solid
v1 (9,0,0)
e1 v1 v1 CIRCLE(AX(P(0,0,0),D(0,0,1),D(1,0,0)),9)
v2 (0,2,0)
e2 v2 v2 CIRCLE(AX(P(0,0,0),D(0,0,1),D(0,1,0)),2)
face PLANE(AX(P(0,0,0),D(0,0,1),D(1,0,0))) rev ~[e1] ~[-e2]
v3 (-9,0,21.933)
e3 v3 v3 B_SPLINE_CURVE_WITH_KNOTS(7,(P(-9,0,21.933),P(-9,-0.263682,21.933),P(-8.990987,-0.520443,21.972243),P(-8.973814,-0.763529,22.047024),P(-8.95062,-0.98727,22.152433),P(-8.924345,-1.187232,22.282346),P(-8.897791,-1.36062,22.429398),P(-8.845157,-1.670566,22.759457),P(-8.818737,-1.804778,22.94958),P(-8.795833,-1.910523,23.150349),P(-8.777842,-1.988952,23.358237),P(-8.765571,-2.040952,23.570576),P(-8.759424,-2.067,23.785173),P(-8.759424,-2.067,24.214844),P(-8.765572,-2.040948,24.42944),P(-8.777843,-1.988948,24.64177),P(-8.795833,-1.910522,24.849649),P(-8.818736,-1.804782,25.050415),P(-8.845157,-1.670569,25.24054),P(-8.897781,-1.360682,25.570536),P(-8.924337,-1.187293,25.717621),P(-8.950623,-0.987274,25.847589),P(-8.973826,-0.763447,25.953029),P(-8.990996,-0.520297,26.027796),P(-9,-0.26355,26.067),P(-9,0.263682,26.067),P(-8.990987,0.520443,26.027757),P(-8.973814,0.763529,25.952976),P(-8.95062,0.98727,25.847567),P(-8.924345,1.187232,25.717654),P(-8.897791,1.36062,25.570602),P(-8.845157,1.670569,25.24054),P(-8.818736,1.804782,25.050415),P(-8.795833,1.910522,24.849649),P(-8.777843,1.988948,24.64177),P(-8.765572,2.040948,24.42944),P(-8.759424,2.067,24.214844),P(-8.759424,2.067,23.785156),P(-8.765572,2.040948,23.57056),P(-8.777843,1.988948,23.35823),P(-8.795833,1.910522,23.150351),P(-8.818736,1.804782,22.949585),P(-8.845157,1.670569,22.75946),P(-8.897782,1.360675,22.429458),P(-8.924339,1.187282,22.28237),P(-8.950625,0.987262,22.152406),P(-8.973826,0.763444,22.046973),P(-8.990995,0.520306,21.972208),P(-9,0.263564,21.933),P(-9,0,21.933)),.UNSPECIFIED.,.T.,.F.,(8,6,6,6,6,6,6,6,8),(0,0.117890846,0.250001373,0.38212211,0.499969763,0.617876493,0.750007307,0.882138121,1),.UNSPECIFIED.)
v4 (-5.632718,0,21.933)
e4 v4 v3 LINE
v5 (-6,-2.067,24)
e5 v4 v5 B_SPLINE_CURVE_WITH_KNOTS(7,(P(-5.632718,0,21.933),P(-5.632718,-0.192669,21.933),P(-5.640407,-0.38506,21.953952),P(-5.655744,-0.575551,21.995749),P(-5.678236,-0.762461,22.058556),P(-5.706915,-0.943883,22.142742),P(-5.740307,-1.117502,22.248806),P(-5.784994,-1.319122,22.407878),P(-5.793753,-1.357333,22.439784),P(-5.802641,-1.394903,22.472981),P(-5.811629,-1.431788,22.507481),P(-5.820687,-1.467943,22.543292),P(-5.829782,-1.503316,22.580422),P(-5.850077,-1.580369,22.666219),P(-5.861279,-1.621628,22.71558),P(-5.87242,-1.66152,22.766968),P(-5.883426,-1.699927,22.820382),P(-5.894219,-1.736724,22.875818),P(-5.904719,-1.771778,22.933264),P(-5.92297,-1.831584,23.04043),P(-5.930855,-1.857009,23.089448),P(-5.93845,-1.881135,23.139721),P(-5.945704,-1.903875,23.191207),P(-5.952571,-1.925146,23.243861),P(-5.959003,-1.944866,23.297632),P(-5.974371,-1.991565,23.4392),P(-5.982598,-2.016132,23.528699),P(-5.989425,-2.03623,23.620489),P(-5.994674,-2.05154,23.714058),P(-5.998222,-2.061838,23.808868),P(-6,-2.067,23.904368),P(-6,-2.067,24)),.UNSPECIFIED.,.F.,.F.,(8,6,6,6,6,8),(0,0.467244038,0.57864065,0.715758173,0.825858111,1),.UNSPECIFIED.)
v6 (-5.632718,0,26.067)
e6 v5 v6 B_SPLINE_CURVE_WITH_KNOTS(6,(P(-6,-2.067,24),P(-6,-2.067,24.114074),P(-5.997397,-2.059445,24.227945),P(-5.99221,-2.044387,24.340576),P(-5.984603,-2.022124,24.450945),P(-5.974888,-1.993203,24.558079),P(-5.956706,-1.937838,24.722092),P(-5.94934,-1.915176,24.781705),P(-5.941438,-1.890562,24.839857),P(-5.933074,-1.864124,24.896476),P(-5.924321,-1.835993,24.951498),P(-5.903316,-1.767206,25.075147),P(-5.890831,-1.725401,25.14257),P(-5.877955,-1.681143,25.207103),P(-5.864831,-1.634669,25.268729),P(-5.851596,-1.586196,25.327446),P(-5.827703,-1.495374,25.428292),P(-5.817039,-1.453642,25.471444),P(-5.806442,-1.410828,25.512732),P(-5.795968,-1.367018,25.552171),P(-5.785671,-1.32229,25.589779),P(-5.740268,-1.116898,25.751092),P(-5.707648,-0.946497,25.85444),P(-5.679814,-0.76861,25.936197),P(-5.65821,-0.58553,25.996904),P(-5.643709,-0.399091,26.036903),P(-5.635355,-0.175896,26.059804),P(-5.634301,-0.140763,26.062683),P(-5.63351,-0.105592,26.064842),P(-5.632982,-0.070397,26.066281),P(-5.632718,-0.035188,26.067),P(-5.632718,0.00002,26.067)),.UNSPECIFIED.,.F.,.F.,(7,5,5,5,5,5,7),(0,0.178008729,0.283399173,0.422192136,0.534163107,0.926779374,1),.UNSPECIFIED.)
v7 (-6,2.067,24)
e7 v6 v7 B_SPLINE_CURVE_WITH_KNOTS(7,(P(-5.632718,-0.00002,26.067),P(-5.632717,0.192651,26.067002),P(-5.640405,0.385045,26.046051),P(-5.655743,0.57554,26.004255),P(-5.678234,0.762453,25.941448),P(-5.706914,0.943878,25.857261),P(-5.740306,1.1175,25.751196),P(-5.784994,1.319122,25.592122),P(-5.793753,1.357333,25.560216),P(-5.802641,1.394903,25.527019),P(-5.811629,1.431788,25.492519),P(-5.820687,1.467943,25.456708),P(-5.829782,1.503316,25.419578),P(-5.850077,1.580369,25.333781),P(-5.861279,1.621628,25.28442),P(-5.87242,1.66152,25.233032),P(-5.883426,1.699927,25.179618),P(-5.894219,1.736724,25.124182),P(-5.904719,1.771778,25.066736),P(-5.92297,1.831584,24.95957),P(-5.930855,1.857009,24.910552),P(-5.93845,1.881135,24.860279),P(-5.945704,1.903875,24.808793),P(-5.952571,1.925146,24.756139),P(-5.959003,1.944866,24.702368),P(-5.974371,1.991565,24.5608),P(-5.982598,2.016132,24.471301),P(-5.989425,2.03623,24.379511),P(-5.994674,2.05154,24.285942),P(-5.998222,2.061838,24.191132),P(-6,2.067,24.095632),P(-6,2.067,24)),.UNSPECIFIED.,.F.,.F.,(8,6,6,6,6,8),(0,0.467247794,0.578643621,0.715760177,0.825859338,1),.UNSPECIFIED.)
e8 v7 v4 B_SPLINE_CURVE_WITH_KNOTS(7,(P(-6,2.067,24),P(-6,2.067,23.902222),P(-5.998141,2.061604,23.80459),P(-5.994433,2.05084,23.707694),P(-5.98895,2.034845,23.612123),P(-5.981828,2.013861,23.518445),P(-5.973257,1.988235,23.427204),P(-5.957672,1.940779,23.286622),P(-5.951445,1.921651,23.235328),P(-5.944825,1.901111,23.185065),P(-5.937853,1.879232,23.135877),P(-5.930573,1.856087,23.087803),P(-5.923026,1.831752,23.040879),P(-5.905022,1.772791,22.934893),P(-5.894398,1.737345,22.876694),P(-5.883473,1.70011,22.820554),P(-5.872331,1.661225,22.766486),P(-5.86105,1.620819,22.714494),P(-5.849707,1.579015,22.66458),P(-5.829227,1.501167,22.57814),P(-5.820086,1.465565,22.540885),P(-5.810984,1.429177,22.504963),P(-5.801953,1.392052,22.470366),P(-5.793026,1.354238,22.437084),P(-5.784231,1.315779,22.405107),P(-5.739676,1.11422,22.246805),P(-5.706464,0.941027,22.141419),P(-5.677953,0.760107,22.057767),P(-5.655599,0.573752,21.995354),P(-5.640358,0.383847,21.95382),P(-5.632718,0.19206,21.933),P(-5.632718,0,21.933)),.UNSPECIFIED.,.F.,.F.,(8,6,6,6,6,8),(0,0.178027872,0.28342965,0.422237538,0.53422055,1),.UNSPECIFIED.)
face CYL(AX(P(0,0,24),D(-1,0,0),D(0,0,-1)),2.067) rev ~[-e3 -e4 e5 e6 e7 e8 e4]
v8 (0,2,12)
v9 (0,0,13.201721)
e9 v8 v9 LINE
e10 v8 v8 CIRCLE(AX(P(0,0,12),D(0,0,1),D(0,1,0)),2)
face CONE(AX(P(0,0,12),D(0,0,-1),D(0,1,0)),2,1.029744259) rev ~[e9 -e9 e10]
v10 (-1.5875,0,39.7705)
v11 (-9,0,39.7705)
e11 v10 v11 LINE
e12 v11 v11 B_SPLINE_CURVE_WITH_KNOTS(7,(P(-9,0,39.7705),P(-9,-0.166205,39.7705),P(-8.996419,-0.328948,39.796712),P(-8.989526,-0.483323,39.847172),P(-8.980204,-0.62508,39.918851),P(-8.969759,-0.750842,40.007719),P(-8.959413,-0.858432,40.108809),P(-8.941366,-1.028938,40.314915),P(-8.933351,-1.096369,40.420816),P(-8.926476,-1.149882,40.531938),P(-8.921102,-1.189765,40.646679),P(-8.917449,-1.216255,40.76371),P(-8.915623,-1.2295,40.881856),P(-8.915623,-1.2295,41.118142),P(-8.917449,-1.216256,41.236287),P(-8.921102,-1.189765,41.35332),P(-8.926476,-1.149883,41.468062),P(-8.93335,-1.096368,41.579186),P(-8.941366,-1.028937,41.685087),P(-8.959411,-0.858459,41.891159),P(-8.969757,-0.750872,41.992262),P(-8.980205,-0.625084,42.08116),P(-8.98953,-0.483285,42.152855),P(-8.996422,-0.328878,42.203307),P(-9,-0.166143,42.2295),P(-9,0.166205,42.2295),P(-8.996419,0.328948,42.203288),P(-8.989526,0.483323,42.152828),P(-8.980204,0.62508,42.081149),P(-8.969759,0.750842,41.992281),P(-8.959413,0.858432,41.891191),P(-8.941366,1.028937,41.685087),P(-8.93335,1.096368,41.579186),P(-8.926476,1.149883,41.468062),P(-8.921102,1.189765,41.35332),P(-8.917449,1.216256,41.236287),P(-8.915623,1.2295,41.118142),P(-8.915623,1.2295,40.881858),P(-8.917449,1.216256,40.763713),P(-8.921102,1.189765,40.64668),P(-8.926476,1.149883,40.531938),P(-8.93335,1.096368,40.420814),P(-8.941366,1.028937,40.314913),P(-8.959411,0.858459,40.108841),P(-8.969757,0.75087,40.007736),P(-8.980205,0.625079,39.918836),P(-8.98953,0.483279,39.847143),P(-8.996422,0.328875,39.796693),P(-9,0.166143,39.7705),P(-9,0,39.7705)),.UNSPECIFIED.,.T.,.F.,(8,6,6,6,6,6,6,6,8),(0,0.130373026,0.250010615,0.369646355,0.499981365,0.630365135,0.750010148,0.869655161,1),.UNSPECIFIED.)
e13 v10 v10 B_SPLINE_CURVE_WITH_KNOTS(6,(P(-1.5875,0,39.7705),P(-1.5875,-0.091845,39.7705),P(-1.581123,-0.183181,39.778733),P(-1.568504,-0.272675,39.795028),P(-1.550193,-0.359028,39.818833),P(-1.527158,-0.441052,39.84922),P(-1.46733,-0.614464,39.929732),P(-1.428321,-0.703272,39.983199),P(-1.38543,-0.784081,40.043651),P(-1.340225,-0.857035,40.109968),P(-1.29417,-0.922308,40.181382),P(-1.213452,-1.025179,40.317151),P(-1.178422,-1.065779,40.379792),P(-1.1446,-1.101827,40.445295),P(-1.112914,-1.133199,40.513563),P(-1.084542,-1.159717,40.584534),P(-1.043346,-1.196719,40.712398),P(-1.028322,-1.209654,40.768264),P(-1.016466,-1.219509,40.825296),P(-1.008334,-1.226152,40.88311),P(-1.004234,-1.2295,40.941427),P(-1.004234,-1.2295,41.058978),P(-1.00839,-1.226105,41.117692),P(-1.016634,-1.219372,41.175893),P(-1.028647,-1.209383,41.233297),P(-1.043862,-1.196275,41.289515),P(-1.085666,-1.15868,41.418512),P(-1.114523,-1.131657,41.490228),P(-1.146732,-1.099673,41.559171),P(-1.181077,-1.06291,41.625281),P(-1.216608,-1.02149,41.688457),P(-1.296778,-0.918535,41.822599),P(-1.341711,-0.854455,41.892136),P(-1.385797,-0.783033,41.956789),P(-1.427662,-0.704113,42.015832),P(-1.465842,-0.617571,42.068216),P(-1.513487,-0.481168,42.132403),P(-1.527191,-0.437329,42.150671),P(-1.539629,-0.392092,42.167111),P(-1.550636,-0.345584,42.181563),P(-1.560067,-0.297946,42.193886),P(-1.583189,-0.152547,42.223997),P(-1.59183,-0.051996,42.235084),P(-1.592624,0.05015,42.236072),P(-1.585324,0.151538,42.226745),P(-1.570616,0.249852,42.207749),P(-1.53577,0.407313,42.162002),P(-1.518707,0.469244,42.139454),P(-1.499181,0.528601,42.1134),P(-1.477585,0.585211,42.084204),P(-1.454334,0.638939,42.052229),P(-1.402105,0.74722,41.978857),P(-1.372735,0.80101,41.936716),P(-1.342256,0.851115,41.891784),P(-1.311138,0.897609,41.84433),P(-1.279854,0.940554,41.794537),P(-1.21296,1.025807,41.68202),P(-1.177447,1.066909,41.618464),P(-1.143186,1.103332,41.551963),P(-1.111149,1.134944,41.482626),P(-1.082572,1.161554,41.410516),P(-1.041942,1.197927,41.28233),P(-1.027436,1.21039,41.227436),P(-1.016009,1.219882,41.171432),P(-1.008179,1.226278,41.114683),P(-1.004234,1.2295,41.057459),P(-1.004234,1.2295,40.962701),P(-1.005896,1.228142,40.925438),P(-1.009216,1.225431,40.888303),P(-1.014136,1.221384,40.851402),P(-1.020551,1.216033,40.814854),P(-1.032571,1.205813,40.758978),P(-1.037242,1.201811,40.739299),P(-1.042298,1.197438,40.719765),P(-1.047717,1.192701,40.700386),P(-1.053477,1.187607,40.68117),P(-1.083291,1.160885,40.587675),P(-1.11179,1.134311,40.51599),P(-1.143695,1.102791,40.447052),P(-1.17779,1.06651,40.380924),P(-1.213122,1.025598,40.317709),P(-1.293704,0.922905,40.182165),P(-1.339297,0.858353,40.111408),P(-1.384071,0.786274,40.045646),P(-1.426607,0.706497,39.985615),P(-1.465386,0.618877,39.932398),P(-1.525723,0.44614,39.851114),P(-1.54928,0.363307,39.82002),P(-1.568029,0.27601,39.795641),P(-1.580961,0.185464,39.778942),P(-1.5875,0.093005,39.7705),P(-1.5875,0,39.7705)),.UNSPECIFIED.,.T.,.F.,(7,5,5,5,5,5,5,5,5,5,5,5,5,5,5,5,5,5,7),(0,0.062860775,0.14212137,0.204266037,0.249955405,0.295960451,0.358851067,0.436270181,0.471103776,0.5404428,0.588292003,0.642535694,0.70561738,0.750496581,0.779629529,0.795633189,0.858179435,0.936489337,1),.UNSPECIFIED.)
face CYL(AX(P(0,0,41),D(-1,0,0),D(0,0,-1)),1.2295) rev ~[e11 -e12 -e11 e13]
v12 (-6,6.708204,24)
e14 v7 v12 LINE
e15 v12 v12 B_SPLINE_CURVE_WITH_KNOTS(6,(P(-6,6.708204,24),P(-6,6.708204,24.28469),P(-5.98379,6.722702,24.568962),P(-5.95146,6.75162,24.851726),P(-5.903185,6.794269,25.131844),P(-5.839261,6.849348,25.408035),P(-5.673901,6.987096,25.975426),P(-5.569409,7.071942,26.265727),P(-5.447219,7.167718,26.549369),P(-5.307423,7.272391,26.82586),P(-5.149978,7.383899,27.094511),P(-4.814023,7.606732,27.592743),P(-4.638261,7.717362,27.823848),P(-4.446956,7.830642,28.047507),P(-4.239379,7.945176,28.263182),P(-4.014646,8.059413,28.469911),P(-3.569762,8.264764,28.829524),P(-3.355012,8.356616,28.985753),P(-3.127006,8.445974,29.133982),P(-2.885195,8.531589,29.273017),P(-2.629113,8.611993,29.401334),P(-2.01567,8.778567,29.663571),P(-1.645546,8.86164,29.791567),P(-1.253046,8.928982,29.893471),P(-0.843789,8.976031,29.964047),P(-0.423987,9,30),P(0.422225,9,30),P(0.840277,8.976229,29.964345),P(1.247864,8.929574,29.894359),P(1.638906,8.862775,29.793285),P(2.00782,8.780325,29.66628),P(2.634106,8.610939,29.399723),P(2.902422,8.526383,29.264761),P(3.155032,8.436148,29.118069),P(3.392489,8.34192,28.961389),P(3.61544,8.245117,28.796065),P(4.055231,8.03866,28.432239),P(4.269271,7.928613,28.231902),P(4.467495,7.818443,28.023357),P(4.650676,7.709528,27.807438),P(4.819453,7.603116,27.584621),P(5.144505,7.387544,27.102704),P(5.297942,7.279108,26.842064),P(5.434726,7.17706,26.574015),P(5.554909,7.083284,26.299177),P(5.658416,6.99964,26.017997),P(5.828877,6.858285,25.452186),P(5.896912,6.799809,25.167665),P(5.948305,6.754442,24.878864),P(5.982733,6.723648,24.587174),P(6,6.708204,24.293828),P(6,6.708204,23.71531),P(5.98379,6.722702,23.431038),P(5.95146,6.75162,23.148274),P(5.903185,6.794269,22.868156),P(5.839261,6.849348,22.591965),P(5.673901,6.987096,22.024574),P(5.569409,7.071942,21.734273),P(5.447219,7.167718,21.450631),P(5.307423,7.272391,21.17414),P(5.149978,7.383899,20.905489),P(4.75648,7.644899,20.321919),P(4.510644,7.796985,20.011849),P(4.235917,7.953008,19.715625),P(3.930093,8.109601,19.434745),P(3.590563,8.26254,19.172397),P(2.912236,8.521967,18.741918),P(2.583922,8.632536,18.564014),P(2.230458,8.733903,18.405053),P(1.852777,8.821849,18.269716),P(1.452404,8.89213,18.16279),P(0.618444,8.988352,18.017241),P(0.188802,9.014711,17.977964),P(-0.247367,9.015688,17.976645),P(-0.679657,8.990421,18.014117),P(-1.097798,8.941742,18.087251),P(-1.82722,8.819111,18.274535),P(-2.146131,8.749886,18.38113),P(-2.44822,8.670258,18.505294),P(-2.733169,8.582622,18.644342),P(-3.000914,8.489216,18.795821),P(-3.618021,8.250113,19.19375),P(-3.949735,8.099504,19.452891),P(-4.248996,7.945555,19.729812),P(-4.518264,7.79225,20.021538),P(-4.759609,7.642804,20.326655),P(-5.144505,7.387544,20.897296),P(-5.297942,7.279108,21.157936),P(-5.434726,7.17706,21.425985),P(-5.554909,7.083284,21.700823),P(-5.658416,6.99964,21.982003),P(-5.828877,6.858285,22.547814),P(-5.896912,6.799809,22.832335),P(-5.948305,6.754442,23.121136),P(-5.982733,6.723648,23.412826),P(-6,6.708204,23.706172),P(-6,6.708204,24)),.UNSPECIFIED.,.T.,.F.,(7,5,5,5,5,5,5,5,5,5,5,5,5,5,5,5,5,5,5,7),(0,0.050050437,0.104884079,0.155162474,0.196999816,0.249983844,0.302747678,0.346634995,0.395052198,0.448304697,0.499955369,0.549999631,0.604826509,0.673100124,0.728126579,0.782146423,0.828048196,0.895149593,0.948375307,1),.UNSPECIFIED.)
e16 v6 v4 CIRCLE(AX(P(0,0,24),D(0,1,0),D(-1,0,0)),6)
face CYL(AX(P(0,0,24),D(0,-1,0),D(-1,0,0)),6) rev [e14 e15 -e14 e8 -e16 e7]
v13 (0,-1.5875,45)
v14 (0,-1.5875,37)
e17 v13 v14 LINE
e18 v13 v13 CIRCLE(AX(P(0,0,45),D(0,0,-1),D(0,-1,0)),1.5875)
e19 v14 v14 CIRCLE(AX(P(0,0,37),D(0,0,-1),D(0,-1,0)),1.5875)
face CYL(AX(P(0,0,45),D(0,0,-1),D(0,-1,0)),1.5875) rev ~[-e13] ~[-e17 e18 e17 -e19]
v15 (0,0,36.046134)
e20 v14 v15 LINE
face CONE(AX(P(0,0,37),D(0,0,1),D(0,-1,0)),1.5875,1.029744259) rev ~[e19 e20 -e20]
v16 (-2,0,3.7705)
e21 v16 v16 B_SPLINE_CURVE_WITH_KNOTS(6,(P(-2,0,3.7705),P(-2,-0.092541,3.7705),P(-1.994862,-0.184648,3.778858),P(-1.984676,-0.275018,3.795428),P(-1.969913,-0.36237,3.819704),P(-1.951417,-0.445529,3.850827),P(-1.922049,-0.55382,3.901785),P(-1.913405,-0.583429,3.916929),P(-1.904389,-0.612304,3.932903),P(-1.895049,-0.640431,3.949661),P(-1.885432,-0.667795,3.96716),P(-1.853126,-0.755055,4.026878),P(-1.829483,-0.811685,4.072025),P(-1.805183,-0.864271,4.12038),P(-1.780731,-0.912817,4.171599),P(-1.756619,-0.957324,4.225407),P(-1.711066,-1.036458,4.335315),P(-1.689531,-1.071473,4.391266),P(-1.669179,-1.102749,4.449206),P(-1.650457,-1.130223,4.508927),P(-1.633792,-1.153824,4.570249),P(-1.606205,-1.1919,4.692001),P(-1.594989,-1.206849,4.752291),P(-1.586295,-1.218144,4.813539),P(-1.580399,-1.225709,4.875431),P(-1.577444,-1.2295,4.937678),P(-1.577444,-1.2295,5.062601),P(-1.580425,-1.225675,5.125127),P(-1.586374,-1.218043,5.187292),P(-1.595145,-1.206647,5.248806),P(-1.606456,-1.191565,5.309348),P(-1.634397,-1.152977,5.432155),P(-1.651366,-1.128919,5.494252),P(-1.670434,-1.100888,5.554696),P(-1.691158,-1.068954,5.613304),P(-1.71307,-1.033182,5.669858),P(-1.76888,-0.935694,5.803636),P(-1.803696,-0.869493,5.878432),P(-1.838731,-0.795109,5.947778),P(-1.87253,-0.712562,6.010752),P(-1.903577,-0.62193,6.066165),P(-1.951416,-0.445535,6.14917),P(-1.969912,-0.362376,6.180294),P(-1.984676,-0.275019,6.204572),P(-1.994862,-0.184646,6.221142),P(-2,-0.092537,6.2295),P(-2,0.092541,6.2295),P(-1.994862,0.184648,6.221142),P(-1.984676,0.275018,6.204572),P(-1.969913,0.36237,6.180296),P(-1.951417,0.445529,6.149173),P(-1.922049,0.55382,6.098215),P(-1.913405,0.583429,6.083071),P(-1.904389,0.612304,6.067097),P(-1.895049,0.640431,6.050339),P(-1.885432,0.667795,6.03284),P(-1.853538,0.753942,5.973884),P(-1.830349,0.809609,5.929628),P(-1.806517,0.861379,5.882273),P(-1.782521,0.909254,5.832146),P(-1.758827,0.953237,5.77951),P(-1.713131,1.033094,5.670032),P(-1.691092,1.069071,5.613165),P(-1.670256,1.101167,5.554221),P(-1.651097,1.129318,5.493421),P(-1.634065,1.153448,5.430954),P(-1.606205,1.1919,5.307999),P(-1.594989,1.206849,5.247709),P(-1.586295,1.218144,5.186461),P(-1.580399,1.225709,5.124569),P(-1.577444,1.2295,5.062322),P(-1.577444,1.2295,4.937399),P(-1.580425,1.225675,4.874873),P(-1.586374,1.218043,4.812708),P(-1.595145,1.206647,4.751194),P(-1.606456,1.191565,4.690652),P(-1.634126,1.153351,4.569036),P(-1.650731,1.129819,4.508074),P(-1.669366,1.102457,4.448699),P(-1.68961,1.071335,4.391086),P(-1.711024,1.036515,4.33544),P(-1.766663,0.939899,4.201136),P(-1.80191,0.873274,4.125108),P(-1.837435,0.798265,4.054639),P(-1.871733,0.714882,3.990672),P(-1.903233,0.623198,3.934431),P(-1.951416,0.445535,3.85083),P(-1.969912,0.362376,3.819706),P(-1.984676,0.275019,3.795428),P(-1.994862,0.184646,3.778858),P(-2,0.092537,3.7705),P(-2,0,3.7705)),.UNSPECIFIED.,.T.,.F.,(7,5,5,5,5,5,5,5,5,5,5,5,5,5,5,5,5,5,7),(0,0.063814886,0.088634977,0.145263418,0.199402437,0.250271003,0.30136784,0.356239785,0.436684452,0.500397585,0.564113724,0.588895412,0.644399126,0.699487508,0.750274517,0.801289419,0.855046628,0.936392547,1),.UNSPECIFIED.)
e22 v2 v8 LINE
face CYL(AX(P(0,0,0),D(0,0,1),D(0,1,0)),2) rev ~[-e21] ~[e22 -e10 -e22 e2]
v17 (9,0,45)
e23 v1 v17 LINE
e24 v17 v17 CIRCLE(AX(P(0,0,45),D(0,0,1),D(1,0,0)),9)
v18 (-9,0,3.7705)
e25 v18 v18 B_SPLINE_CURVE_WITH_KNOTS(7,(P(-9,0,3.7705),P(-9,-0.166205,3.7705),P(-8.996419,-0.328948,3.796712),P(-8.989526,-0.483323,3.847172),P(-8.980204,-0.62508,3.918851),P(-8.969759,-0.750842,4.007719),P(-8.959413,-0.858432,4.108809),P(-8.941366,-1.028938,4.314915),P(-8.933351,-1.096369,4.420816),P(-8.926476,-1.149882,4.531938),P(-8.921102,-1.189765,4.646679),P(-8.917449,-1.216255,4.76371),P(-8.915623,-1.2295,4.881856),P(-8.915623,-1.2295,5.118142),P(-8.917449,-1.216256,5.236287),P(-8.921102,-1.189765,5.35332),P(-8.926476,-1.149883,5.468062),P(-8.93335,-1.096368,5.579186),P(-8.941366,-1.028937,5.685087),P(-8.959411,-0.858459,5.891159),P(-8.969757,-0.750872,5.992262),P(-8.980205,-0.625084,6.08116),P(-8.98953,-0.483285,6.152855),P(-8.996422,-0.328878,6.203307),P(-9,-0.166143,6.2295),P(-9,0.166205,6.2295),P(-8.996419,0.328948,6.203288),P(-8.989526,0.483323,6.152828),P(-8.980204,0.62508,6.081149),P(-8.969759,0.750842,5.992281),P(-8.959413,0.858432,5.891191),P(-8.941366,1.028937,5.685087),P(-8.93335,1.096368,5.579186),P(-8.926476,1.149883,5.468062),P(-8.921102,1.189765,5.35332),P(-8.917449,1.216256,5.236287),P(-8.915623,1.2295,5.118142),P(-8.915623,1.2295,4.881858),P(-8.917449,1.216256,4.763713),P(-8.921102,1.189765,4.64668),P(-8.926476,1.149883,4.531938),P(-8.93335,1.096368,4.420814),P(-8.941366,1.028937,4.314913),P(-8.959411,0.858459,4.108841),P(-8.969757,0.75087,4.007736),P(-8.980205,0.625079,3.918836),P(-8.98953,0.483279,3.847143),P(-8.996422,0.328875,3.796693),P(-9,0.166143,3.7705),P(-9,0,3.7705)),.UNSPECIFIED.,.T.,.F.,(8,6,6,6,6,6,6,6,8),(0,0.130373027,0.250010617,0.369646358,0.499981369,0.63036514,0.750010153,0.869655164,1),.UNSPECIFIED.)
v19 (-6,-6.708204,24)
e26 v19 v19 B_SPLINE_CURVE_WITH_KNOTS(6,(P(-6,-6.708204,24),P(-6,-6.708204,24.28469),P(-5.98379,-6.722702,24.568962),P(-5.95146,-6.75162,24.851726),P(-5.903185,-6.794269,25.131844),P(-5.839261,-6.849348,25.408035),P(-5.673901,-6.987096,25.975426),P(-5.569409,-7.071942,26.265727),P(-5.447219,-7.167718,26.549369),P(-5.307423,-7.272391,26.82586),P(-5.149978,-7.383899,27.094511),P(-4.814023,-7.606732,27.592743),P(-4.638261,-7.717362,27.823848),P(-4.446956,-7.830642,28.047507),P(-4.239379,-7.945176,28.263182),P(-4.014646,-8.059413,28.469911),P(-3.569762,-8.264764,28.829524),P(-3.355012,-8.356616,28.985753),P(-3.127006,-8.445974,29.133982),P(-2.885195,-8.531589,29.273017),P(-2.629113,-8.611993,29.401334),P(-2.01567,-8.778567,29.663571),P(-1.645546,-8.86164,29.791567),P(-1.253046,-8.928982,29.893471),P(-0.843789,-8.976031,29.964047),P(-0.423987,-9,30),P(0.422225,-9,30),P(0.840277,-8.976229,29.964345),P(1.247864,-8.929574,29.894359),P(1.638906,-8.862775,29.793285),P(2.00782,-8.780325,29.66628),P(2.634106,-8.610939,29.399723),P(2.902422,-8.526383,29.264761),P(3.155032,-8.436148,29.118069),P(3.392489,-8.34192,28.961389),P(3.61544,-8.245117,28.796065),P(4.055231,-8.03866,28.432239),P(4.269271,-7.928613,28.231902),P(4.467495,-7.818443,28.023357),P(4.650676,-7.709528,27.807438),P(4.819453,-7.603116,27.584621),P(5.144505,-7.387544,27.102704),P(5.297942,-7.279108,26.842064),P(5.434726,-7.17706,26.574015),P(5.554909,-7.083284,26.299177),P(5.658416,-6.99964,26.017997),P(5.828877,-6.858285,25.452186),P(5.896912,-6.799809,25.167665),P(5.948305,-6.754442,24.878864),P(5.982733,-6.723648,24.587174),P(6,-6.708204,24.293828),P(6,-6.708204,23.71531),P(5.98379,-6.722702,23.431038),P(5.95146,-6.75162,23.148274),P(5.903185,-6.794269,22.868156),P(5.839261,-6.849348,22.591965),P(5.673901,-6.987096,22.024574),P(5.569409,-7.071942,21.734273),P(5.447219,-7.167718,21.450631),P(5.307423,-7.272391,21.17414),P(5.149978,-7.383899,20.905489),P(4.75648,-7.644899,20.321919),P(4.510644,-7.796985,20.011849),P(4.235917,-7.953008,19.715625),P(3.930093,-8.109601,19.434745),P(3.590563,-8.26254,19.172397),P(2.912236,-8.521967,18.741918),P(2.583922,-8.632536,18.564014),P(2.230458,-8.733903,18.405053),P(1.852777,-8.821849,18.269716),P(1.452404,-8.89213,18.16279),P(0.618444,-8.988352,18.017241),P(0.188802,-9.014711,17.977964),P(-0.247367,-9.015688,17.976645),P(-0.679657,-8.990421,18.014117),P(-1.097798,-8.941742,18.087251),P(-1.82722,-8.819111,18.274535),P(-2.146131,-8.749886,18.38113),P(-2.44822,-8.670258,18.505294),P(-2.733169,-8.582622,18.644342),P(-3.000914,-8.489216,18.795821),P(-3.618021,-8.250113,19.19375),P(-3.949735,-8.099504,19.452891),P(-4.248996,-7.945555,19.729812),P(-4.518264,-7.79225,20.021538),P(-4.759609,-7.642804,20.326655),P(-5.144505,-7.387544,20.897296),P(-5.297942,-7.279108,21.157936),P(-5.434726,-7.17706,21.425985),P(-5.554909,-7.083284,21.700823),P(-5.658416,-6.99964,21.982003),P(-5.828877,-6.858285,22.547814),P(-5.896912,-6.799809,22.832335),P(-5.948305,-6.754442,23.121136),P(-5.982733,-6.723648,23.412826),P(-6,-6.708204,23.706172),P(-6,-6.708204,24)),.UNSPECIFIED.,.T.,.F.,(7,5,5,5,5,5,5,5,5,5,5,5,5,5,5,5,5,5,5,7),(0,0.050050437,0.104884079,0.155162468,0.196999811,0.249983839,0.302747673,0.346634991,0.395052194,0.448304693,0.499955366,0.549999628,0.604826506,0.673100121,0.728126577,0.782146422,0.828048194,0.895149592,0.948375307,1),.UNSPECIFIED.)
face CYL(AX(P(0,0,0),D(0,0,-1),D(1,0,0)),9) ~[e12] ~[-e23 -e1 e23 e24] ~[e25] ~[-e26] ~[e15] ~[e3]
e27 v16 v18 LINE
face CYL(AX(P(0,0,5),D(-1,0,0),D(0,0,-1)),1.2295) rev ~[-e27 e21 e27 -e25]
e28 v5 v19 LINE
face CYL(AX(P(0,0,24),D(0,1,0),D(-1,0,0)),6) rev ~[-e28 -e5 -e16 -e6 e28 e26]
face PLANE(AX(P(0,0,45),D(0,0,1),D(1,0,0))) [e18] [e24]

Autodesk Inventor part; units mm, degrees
ref_plane "YZ Plane" through (0, 0, 0) normal (1, 0, 0) x (0, 1, 0)
ref_plane "XZ Plane" through (0, 0, 0) normal (0, 1, 0) x (-1, 0, 0)
ref_plane "XY Plane" through (0, 0, 0) normal (0, 0, 1) x (1, 0, 0)
sketch "Sketch1" plane through (0, 0, 0) normal (0, 0, 1) x (1, 0, 0)
  circle A0 centre (0, 0) radius 9
  dimension "d0" = 18
extrude "Extrusion1" add sketch "Sketch1" along normal blind 45
sketch "Sketch2" plane through (0, 0, 45) normal (0, 0, 1) x (1, 0, 0)
  point P0 (0, 0)
  point P1 (0, 0)
hole "Hole1" at (0, 0, 45) direction (0, 0, -1) diameter 3.175 depth 8 tip angle 118
sketch "Sketch3" plane through (0, 0, 0) normal (0, 0, -1) x (-1, 0, 0)
  point P0 (0, 0)
  point P1 (0, 0)
hole "Hole2" at (0, 0, 0) direction (0, 0, 1) diameter 4 depth 12 tip angle 118
sketch "Sketch4" plane through (0, 0, 0) normal (0, 1, 0) x (-1, 0, 0)
  circle A0 centre (0, 24) radius 6
  line L0 (9, 45) -> (-9, 45) projected
  point P0 (0, 0)
  dimension "d17" = 21
  dimension "d18" = 12
extrude "Extrusion2" cut sketch "Sketch4" along normal through all both and the other way through all
sketch "Sketch5" plane through (0, 0, 0) normal (1, 0, 0) x (0, 1, 0)
  line L0 (9, 45) -> (-9, 45) projected
  line L1 (-9, 0) -> (9, 0) projected
  point P0 (0, 0)
  point P1 (0, 41)
  point P2 (0, 5)
  dimension "d21" = 4
  dimension "d22" = 5
hole "Hole3" at (0, 0, 41) at (0, 0, 5) direction (-1, 0, 0) diameter 2.459 end through all thread size "M3x0.5" class "6H" standard "ANSI Metric M Profile"
sketch "Sketch6" plane through (0, 0, 0) normal (1, 0, 0) x (0, 1, 0)
  line L0 (-9, 0) -> (9, 0) projected
  point P0 (0, 0)
  point P1 (0, 24)
  dimension "d30" = 24
hole "Hole4" at (0, 0, 24) direction (-1, 0, 0) diameter 4.134 end through all thread size "M5x0.8" class "6H" standard "ANSI Metric M Profile"
properties part number "MotorPotCouple"
